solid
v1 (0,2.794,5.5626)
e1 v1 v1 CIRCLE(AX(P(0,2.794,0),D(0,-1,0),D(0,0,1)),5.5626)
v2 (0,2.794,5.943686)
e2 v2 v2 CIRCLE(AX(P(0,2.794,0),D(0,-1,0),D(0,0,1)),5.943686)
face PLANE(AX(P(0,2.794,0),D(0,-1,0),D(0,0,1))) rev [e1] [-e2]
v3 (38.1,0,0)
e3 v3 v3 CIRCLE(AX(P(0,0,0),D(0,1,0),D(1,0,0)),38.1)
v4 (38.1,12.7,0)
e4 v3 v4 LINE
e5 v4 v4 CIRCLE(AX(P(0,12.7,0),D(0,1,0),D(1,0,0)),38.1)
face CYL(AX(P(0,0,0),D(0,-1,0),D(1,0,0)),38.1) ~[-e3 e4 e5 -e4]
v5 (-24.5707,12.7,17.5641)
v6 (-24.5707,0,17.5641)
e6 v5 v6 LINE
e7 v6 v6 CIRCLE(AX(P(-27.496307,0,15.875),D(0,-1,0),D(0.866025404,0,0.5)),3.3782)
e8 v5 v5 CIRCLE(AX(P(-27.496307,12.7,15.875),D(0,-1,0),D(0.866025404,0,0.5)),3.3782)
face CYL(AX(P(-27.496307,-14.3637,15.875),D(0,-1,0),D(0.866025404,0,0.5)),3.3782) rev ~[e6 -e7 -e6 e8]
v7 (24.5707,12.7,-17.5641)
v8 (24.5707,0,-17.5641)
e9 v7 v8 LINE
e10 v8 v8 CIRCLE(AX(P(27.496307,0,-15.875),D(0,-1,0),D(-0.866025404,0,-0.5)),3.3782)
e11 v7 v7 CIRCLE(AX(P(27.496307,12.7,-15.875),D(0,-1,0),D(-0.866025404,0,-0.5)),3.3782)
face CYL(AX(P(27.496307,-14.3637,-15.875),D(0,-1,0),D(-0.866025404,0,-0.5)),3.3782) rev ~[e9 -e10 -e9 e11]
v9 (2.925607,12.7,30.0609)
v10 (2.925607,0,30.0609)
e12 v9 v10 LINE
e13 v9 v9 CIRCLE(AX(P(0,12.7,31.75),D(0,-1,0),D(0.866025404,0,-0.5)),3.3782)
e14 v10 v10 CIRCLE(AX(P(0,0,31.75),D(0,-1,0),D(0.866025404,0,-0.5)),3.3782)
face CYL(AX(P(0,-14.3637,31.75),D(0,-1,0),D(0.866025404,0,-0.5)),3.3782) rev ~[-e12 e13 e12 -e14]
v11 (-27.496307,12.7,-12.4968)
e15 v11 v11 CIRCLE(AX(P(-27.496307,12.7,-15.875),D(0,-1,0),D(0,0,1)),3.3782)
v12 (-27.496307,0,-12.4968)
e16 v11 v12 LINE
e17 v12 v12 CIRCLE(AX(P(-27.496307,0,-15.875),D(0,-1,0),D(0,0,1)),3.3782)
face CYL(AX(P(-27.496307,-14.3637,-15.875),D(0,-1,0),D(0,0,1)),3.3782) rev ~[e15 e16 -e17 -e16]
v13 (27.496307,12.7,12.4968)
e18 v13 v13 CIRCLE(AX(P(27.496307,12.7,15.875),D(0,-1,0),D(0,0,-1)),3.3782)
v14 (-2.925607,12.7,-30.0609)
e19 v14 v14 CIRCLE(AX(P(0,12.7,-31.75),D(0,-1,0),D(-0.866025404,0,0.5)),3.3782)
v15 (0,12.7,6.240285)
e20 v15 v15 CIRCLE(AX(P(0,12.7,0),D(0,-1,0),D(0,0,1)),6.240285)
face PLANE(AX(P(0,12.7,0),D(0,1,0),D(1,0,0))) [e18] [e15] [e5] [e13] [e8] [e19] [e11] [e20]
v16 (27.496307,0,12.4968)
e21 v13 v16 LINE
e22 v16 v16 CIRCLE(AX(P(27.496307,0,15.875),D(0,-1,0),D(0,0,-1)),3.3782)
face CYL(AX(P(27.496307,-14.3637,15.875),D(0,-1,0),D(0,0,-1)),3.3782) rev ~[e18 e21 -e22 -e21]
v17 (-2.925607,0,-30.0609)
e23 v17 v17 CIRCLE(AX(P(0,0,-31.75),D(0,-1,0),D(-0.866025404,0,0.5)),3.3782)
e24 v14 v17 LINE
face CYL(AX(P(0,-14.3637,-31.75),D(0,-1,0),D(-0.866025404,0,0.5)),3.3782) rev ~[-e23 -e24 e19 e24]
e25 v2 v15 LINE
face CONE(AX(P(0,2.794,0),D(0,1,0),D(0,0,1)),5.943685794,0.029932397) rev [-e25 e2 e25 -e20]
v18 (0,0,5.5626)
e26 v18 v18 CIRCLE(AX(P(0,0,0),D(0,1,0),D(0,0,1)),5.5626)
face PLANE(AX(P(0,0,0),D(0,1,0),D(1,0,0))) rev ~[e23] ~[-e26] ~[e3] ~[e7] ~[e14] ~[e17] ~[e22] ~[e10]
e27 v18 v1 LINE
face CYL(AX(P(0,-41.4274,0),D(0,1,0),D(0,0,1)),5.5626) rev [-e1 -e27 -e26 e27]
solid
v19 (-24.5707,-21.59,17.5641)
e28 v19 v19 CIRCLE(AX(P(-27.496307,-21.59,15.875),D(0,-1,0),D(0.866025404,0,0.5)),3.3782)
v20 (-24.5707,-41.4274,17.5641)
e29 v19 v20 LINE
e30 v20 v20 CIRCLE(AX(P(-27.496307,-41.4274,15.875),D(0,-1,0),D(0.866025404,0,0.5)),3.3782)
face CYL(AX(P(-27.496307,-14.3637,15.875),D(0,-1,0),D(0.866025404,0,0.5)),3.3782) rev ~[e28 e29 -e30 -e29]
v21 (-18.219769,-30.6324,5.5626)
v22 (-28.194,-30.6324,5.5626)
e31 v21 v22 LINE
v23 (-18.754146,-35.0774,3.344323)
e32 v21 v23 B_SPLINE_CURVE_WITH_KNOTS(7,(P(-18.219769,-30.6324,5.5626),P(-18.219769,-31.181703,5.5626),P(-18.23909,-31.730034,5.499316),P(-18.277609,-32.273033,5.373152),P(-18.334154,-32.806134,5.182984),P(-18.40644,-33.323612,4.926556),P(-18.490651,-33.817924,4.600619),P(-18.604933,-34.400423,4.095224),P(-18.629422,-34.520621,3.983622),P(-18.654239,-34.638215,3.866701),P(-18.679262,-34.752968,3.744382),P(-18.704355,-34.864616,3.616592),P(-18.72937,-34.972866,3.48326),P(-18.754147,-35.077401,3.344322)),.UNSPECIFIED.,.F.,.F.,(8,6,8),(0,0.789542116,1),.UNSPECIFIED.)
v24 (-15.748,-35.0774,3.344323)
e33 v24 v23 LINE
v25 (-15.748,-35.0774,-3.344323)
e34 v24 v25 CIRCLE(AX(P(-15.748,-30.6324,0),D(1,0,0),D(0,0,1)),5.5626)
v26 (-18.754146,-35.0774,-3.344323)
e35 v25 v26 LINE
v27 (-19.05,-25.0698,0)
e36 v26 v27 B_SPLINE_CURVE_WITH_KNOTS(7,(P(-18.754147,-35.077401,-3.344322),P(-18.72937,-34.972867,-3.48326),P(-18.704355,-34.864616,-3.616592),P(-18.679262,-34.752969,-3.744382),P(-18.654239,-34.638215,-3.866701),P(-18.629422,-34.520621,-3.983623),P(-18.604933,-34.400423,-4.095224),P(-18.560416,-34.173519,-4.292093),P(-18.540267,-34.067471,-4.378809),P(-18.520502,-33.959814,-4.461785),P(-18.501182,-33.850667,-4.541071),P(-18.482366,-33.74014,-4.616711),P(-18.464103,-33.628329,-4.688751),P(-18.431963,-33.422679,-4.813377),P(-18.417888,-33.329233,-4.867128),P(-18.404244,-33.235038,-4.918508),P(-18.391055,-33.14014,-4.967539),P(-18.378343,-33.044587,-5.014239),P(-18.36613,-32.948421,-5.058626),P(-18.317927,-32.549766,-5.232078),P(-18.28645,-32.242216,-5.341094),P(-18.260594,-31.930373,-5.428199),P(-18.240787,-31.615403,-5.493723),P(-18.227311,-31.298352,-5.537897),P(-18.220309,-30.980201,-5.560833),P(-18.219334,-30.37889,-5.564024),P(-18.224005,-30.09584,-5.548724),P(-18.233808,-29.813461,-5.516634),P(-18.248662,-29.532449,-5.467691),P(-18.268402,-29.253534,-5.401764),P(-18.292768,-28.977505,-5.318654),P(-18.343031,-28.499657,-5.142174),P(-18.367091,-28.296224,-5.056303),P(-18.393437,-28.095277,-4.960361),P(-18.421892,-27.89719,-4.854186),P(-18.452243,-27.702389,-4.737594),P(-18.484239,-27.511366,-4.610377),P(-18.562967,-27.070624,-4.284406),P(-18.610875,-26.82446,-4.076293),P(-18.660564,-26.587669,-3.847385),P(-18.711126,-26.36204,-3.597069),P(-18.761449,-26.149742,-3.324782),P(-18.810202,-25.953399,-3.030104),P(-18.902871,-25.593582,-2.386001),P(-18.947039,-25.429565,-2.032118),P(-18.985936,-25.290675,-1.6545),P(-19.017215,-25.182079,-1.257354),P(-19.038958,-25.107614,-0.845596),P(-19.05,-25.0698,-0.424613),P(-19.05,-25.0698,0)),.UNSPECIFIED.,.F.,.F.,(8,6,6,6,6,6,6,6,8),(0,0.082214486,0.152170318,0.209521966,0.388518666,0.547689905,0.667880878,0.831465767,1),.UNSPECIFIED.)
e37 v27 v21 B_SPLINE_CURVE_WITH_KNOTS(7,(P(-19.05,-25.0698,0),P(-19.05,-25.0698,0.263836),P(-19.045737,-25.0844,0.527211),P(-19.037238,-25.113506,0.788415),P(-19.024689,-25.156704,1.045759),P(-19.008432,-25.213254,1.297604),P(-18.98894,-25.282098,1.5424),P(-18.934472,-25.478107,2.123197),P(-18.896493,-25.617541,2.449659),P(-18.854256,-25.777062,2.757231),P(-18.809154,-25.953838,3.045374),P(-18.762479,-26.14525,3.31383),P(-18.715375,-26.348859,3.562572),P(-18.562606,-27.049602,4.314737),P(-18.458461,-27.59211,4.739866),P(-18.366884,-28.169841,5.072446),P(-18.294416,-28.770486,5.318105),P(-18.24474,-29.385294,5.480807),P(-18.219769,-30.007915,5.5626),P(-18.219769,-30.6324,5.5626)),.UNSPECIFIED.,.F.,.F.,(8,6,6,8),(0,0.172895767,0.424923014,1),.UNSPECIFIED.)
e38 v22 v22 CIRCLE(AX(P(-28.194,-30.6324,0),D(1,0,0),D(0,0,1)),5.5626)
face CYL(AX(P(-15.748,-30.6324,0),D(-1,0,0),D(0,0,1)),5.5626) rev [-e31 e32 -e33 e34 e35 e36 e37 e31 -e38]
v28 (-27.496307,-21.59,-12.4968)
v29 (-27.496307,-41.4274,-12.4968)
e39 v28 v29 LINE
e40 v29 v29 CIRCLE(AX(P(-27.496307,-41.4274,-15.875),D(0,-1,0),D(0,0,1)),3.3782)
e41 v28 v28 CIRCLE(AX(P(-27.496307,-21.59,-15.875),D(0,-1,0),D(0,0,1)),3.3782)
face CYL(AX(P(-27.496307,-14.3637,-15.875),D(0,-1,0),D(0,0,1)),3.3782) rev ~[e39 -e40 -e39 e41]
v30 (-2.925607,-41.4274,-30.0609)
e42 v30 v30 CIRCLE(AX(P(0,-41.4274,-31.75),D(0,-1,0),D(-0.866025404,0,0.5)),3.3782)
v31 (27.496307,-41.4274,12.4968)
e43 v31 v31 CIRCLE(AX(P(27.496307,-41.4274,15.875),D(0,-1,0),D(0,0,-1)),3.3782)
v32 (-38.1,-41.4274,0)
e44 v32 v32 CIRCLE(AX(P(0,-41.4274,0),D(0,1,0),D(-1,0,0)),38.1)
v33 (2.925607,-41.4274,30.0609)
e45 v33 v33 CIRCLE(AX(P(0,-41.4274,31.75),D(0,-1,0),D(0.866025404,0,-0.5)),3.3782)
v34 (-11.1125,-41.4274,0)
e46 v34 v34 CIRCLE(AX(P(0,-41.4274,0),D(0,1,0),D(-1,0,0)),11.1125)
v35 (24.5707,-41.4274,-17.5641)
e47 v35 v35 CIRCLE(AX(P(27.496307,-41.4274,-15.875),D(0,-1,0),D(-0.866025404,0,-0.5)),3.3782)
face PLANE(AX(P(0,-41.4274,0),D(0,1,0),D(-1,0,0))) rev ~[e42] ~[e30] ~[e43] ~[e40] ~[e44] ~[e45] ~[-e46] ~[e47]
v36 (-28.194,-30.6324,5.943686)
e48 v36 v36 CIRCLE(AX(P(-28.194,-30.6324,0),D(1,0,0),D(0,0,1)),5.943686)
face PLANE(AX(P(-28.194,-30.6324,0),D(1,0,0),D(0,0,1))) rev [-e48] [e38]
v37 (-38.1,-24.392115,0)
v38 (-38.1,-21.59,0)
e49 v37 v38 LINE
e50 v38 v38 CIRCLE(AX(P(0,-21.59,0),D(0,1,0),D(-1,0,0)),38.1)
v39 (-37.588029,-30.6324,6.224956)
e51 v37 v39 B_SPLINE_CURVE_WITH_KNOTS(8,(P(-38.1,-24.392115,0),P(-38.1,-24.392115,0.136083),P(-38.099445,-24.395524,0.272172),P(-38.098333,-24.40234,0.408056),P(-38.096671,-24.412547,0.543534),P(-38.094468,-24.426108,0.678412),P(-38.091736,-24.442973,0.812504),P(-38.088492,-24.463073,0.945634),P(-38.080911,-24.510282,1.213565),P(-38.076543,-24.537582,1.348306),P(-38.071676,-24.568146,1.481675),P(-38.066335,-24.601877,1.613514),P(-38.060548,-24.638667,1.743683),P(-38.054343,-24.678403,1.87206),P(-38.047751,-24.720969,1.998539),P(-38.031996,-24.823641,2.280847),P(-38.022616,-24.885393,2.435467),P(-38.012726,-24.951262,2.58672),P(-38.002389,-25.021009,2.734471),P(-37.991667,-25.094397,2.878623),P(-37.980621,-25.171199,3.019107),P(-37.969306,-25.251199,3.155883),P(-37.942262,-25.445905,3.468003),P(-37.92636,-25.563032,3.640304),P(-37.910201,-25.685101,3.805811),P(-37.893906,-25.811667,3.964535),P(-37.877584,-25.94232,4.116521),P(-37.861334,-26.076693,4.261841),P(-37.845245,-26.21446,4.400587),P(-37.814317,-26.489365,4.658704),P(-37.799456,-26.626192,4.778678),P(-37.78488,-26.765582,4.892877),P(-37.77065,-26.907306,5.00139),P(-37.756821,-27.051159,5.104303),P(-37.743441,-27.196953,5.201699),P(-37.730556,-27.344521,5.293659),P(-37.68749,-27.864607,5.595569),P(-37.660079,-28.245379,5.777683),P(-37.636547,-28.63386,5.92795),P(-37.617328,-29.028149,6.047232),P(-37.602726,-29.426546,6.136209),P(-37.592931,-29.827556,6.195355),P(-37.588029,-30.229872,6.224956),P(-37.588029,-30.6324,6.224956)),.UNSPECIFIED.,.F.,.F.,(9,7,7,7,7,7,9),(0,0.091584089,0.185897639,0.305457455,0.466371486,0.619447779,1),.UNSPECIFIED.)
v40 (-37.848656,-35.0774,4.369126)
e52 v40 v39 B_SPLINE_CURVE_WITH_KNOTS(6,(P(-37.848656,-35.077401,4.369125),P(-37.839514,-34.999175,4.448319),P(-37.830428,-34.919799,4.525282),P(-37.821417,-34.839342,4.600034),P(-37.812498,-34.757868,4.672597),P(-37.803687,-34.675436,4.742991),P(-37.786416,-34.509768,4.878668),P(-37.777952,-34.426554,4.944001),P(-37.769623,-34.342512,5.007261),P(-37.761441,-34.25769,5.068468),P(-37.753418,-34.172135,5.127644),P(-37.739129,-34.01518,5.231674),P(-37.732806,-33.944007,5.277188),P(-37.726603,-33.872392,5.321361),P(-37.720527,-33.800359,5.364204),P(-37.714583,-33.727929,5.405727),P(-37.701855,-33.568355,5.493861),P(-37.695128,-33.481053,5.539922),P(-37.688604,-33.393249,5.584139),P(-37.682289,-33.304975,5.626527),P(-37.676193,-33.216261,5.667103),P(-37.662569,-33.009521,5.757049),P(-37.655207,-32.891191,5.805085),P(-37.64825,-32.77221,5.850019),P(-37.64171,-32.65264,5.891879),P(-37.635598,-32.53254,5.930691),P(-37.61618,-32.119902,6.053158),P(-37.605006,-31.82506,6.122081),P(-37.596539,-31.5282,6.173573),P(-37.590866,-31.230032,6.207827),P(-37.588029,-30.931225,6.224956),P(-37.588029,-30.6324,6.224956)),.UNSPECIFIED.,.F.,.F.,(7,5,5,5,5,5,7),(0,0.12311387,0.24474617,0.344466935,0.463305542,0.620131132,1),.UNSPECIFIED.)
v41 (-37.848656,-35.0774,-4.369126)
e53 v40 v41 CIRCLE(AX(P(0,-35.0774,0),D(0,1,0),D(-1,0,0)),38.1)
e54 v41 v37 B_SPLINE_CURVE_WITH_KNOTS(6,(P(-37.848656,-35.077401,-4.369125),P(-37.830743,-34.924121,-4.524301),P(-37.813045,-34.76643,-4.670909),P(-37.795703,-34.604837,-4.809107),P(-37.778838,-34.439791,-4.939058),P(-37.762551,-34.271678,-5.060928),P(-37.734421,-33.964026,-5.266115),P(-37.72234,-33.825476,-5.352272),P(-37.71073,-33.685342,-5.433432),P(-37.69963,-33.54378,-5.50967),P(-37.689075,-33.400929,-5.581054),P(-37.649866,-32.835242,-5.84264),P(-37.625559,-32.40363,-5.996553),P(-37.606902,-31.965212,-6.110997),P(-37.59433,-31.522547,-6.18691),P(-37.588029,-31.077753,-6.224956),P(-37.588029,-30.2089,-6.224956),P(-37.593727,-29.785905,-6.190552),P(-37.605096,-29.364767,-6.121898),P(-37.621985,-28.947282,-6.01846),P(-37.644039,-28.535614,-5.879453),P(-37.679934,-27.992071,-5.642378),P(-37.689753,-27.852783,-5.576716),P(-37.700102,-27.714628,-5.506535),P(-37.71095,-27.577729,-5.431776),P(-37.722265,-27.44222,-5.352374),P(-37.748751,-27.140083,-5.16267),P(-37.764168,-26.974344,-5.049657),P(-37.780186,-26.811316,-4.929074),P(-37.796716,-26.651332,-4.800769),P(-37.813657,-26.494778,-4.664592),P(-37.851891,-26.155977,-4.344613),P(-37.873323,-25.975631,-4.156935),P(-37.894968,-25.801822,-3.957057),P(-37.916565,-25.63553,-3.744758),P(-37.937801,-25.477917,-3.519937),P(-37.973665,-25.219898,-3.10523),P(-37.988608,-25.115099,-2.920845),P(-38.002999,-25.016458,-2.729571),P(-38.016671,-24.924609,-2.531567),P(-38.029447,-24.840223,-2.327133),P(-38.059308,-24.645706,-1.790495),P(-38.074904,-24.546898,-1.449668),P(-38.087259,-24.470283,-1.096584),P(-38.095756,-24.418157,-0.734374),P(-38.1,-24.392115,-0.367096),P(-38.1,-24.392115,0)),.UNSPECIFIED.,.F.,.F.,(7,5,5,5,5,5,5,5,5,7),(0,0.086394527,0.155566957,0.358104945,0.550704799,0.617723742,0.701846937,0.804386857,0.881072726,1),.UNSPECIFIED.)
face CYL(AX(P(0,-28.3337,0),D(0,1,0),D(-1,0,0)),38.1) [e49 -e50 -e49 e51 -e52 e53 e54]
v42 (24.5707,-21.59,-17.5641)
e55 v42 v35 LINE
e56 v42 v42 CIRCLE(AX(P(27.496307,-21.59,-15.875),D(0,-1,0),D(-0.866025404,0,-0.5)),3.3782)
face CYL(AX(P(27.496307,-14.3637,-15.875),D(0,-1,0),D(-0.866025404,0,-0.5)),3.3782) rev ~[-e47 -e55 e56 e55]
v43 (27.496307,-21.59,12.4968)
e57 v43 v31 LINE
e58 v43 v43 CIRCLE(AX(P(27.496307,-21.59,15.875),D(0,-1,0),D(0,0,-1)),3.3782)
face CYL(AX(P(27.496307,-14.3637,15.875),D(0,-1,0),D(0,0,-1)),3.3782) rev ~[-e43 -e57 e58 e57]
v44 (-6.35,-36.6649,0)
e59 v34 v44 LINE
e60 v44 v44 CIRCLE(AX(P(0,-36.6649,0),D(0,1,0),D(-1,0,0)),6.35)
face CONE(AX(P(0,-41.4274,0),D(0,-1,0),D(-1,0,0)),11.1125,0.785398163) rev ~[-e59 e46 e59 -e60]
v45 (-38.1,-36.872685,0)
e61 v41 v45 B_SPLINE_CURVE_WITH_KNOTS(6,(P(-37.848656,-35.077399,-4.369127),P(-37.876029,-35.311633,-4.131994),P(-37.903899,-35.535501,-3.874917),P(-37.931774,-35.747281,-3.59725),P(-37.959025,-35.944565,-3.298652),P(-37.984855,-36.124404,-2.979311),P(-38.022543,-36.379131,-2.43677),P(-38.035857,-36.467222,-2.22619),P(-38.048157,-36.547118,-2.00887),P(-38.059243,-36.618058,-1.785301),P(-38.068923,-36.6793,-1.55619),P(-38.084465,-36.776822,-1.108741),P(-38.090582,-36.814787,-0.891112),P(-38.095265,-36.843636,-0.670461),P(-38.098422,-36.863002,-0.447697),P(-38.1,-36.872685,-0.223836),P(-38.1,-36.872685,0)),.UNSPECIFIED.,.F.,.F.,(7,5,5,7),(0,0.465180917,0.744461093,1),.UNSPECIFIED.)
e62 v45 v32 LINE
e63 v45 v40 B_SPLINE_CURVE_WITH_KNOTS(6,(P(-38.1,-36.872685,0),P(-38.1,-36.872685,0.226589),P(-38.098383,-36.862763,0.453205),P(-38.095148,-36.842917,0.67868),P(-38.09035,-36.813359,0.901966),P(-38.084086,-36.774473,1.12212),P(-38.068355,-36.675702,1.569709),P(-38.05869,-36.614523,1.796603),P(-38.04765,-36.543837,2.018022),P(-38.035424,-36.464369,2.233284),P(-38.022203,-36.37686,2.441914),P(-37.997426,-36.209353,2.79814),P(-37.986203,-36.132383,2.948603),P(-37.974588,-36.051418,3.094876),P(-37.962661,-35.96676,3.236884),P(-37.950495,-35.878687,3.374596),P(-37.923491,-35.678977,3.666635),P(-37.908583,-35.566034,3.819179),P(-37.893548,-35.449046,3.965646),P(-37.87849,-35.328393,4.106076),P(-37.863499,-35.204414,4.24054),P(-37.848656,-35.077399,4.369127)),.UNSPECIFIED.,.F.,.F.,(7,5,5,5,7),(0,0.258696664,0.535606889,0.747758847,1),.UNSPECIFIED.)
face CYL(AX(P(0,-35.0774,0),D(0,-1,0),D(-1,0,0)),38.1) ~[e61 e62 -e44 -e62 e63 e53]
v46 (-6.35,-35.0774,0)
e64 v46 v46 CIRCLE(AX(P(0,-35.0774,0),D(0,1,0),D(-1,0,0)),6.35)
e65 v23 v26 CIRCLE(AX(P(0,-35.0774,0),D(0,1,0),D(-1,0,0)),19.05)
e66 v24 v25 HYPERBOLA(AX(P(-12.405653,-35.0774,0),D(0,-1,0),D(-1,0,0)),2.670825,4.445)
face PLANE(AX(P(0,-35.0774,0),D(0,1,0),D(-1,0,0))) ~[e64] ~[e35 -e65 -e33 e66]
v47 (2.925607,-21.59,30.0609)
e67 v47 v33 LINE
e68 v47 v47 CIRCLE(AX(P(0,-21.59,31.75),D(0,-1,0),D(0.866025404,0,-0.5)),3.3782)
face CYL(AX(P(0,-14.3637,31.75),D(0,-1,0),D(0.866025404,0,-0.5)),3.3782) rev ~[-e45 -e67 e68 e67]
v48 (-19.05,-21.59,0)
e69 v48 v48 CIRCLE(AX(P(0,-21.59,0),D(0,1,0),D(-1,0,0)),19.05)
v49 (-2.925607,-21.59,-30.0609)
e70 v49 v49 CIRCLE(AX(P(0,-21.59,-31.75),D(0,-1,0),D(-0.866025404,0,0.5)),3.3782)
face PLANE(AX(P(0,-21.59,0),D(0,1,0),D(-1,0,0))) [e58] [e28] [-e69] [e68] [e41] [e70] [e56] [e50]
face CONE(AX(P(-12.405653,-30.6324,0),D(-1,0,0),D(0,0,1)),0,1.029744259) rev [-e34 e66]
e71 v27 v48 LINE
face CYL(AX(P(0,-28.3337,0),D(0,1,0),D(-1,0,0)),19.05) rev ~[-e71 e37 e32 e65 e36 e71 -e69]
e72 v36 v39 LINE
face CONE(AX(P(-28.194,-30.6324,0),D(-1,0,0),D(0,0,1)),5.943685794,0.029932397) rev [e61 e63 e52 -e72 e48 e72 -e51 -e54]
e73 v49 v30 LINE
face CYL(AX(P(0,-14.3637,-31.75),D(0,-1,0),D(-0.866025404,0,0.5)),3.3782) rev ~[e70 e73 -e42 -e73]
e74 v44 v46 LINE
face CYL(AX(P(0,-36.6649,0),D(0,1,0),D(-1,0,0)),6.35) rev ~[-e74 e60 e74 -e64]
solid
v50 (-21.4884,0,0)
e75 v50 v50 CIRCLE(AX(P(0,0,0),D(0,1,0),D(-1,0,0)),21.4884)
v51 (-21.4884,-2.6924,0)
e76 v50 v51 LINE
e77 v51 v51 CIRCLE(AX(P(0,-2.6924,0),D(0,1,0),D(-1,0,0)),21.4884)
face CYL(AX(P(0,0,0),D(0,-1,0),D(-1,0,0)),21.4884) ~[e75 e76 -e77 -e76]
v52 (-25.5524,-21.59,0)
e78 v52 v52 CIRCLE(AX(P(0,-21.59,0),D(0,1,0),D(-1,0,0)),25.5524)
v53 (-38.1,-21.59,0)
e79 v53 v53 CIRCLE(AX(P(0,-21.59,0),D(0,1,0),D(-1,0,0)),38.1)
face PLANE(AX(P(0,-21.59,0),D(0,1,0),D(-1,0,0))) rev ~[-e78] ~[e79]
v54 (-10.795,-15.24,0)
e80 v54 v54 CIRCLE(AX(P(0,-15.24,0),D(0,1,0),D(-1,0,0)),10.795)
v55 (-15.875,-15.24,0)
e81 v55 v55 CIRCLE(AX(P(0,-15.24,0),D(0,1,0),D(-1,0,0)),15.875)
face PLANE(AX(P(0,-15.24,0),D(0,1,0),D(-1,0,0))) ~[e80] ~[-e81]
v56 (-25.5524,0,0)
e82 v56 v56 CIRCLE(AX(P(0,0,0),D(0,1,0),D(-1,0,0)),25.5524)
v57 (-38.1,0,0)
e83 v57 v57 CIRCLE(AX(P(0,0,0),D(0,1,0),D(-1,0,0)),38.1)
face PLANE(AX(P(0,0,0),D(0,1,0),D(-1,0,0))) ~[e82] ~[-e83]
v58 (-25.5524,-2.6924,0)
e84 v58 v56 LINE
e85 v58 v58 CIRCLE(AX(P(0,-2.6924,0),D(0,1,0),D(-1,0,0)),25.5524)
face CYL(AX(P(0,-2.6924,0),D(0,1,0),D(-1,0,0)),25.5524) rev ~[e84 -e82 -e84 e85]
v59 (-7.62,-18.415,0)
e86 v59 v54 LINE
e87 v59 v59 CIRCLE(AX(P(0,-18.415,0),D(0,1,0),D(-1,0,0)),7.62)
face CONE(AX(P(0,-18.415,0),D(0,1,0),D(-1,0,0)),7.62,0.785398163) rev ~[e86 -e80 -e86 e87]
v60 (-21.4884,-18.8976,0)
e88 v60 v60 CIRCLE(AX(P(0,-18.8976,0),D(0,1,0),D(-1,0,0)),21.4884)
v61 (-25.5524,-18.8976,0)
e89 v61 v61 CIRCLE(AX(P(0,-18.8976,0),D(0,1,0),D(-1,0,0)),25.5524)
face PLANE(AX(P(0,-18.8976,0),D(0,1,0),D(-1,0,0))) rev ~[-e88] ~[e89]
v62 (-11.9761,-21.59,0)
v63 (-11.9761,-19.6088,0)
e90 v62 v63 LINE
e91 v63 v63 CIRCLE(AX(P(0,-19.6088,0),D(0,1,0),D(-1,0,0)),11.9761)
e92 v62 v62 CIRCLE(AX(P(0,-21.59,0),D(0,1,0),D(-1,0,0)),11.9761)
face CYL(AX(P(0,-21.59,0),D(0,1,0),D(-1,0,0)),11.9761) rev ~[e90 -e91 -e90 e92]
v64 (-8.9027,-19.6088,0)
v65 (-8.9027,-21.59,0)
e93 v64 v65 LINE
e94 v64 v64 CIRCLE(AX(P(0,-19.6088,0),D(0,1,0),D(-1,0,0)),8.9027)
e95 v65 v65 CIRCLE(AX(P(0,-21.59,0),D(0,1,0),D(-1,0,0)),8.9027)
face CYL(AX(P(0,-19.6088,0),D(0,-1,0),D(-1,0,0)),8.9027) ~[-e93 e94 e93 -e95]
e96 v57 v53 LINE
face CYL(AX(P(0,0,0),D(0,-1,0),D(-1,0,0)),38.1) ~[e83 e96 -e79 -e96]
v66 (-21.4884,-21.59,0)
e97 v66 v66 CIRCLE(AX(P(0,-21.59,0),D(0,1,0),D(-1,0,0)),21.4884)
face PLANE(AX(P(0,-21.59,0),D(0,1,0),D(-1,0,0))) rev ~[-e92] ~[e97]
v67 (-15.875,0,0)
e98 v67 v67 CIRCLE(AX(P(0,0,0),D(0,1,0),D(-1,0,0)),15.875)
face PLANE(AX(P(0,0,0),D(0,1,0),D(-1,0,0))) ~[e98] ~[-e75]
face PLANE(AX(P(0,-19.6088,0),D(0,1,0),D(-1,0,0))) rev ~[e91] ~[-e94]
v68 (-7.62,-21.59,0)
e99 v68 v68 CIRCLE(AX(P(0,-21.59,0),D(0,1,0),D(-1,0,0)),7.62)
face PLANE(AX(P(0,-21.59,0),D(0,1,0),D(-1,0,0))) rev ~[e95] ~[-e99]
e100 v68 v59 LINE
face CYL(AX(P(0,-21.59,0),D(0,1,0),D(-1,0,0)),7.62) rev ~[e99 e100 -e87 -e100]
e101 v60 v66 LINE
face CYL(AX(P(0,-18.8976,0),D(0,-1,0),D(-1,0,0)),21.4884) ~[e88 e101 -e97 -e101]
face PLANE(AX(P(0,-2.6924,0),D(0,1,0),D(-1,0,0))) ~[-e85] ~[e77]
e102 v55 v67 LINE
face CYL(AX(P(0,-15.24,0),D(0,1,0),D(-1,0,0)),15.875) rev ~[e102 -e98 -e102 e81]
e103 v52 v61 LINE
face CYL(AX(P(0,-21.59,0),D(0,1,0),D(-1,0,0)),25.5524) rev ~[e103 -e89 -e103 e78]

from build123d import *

# Parameters (mm, degrees)
SKETCH21_W          = 19.05
SKETCH21_H          = 13.4874
SKETCH13_R          = 38.1
BOSS_EXTRUDE1_DEPTH = 12.7
SKETCH15_W          = 3.3782
SKETCH15_H          = 54.1274
CIRPATTERN1_COUNT   = 6


with BuildPart() as part:
    # Sketch1 → Revolve1 (revolve)
    with BuildSketch(Plane.XY):
        Polygon((-25.5524, 0), (-38.1, 0), (-38.1, -21.59), (-25.5524, -21.59), (-25.5524, -18.8976), (-21.4884, -18.8976), (-21.4884, -21.59), (-11.9761, -21.59), (-11.9761, -19.6088), (-8.9027, -19.6088), (-8.9027, -21.59), (-7.62, -21.59), (-7.62, -18.415), (-10.795, -15.24), (-15.875, -15.24), (-15.875, 0), (-21.4884, 0), (-21.4884, -2.6924), (-25.5524, -2.6924), align=None)
    revolve(axis=Axis((0, -86.75, 0), (0, 1, 0)))


with BuildPart() as body_2:
    # Sketch21 → Revolve7 (revolve)
    with BuildSketch(Plane.XY):
        with Locations((-28.575, -28.3337)):
            Rectangle(SKETCH21_W, SKETCH21_H)
    revolve(axis=Axis((0, -86.75, 0), (0, 1, 0)))

    # Sketch4 → Revolve5 (revolve)
    with BuildSketch(Plane.XY):
        Polygon((-6.35, -35.0774), (-38.1, -35.0774), (-38.1, -41.4274), (-11.1125, -41.4274), (-6.35, -36.6649), align=None)
    revolve(axis=Axis((0, -86.75, 0), (0, 1, 0)))

    # Sketch10 → 1/4 NPT Tapped Hole3 (revolve, cut)
    with BuildSketch(Plane(origin=(-38.1, -30.6324, 0), x_dir=(0, 0, 1), z_dir=(0, 1, 0))):
        Polygon((0, 0), (0, 25.694347279), (5.5626, 22.352), (5.5626, 9.906), (5.943685794, 9.906), (6.2402847, 0), align=None)
    revolve(axis=Axis((-44.45, -30.6324, 0), (1, 0, 0)), mode=Mode.SUBTRACT)


with BuildPart() as body_3:
    # Sketch13 → Boss-Extrude1 (new body)
    with BuildSketch(Plane(origin=(0, 0, 0), x_dir=(1, 0, 0), z_dir=(0, 1, 0))):
        Circle(SKETCH13_R)
    extrude(amount=BOSS_EXTRUDE1_DEPTH)

    # Sketch17 → 1/4 NPT Tapped Hole4 (revolve, cut)
    with BuildSketch(Plane(origin=(0, 12.7, 0), x_dir=(0, 0, 1), z_dir=(1, 0, 0))):
        Polygon((0, 0), (0, 54.1274), (5.5626, 54.1274), (5.5626, 9.906), (5.943685794, 9.906), (6.2402847, 0), align=None)
    revolve(axis=Axis((0, 19.05, 0), (0, -1, 0)), mode=Mode.SUBTRACT)


with BuildPart() as f_1_4_clearance_hole1_tool:
    # Sketch15 → 1/4 Clearance Hole1 (revolve)
    with BuildSketch(Plane(origin=(-27.49630657, 12.7, -15.875), x_dir=(0, 0, 1), z_dir=(1, 0, 0))):
        with Locations((1.6891, 27.0637)):
            Rectangle(SKETCH15_W, SKETCH15_H)
    f_1_4_clearance_hole1 = revolve(axis=Axis((-27.49630657, 19.05, -15.875), (0, -1, 0)))


with BuildPart() as body_2_1:
    add(body_2.part)

    # 1/4 Clearance Hole1: cut by f_1_4_clearance_hole1_tool
    add(f_1_4_clearance_hole1_tool.part, mode=Mode.SUBTRACT)


with BuildPart() as body_3_1:
    add(body_3.part)

    # 1/4 Clearance Hole1: cut by f_1_4_clearance_hole1_tool
    add(f_1_4_clearance_hole1_tool.part, mode=Mode.SUBTRACT)


with BuildPart() as cirpattern1_tool:
    # CirPattern1: 1/4 Clearance Hole1 ×6 about axis
    cirpattern1_axis = Axis((0, 0, 0), (0, 1, 0))
    for i in range(1, CIRPATTERN1_COUNT):
        add(f_1_4_clearance_hole1.rotate(cirpattern1_axis, i * 360 / CIRPATTERN1_COUNT))


with BuildPart() as body_2_2:
    add(body_2_1.part)

    # CirPattern1: cut by cirpattern1_tool
    add(cirpattern1_tool.part, mode=Mode.SUBTRACT)


with BuildPart() as body_3_2:
    add(body_3_1.part)

    # CirPattern1: cut by cirpattern1_tool
    add(cirpattern1_tool.part, mode=Mode.SUBTRACT)


solid = Compound([part.part, body_2_2.part, body_3_2.part])
